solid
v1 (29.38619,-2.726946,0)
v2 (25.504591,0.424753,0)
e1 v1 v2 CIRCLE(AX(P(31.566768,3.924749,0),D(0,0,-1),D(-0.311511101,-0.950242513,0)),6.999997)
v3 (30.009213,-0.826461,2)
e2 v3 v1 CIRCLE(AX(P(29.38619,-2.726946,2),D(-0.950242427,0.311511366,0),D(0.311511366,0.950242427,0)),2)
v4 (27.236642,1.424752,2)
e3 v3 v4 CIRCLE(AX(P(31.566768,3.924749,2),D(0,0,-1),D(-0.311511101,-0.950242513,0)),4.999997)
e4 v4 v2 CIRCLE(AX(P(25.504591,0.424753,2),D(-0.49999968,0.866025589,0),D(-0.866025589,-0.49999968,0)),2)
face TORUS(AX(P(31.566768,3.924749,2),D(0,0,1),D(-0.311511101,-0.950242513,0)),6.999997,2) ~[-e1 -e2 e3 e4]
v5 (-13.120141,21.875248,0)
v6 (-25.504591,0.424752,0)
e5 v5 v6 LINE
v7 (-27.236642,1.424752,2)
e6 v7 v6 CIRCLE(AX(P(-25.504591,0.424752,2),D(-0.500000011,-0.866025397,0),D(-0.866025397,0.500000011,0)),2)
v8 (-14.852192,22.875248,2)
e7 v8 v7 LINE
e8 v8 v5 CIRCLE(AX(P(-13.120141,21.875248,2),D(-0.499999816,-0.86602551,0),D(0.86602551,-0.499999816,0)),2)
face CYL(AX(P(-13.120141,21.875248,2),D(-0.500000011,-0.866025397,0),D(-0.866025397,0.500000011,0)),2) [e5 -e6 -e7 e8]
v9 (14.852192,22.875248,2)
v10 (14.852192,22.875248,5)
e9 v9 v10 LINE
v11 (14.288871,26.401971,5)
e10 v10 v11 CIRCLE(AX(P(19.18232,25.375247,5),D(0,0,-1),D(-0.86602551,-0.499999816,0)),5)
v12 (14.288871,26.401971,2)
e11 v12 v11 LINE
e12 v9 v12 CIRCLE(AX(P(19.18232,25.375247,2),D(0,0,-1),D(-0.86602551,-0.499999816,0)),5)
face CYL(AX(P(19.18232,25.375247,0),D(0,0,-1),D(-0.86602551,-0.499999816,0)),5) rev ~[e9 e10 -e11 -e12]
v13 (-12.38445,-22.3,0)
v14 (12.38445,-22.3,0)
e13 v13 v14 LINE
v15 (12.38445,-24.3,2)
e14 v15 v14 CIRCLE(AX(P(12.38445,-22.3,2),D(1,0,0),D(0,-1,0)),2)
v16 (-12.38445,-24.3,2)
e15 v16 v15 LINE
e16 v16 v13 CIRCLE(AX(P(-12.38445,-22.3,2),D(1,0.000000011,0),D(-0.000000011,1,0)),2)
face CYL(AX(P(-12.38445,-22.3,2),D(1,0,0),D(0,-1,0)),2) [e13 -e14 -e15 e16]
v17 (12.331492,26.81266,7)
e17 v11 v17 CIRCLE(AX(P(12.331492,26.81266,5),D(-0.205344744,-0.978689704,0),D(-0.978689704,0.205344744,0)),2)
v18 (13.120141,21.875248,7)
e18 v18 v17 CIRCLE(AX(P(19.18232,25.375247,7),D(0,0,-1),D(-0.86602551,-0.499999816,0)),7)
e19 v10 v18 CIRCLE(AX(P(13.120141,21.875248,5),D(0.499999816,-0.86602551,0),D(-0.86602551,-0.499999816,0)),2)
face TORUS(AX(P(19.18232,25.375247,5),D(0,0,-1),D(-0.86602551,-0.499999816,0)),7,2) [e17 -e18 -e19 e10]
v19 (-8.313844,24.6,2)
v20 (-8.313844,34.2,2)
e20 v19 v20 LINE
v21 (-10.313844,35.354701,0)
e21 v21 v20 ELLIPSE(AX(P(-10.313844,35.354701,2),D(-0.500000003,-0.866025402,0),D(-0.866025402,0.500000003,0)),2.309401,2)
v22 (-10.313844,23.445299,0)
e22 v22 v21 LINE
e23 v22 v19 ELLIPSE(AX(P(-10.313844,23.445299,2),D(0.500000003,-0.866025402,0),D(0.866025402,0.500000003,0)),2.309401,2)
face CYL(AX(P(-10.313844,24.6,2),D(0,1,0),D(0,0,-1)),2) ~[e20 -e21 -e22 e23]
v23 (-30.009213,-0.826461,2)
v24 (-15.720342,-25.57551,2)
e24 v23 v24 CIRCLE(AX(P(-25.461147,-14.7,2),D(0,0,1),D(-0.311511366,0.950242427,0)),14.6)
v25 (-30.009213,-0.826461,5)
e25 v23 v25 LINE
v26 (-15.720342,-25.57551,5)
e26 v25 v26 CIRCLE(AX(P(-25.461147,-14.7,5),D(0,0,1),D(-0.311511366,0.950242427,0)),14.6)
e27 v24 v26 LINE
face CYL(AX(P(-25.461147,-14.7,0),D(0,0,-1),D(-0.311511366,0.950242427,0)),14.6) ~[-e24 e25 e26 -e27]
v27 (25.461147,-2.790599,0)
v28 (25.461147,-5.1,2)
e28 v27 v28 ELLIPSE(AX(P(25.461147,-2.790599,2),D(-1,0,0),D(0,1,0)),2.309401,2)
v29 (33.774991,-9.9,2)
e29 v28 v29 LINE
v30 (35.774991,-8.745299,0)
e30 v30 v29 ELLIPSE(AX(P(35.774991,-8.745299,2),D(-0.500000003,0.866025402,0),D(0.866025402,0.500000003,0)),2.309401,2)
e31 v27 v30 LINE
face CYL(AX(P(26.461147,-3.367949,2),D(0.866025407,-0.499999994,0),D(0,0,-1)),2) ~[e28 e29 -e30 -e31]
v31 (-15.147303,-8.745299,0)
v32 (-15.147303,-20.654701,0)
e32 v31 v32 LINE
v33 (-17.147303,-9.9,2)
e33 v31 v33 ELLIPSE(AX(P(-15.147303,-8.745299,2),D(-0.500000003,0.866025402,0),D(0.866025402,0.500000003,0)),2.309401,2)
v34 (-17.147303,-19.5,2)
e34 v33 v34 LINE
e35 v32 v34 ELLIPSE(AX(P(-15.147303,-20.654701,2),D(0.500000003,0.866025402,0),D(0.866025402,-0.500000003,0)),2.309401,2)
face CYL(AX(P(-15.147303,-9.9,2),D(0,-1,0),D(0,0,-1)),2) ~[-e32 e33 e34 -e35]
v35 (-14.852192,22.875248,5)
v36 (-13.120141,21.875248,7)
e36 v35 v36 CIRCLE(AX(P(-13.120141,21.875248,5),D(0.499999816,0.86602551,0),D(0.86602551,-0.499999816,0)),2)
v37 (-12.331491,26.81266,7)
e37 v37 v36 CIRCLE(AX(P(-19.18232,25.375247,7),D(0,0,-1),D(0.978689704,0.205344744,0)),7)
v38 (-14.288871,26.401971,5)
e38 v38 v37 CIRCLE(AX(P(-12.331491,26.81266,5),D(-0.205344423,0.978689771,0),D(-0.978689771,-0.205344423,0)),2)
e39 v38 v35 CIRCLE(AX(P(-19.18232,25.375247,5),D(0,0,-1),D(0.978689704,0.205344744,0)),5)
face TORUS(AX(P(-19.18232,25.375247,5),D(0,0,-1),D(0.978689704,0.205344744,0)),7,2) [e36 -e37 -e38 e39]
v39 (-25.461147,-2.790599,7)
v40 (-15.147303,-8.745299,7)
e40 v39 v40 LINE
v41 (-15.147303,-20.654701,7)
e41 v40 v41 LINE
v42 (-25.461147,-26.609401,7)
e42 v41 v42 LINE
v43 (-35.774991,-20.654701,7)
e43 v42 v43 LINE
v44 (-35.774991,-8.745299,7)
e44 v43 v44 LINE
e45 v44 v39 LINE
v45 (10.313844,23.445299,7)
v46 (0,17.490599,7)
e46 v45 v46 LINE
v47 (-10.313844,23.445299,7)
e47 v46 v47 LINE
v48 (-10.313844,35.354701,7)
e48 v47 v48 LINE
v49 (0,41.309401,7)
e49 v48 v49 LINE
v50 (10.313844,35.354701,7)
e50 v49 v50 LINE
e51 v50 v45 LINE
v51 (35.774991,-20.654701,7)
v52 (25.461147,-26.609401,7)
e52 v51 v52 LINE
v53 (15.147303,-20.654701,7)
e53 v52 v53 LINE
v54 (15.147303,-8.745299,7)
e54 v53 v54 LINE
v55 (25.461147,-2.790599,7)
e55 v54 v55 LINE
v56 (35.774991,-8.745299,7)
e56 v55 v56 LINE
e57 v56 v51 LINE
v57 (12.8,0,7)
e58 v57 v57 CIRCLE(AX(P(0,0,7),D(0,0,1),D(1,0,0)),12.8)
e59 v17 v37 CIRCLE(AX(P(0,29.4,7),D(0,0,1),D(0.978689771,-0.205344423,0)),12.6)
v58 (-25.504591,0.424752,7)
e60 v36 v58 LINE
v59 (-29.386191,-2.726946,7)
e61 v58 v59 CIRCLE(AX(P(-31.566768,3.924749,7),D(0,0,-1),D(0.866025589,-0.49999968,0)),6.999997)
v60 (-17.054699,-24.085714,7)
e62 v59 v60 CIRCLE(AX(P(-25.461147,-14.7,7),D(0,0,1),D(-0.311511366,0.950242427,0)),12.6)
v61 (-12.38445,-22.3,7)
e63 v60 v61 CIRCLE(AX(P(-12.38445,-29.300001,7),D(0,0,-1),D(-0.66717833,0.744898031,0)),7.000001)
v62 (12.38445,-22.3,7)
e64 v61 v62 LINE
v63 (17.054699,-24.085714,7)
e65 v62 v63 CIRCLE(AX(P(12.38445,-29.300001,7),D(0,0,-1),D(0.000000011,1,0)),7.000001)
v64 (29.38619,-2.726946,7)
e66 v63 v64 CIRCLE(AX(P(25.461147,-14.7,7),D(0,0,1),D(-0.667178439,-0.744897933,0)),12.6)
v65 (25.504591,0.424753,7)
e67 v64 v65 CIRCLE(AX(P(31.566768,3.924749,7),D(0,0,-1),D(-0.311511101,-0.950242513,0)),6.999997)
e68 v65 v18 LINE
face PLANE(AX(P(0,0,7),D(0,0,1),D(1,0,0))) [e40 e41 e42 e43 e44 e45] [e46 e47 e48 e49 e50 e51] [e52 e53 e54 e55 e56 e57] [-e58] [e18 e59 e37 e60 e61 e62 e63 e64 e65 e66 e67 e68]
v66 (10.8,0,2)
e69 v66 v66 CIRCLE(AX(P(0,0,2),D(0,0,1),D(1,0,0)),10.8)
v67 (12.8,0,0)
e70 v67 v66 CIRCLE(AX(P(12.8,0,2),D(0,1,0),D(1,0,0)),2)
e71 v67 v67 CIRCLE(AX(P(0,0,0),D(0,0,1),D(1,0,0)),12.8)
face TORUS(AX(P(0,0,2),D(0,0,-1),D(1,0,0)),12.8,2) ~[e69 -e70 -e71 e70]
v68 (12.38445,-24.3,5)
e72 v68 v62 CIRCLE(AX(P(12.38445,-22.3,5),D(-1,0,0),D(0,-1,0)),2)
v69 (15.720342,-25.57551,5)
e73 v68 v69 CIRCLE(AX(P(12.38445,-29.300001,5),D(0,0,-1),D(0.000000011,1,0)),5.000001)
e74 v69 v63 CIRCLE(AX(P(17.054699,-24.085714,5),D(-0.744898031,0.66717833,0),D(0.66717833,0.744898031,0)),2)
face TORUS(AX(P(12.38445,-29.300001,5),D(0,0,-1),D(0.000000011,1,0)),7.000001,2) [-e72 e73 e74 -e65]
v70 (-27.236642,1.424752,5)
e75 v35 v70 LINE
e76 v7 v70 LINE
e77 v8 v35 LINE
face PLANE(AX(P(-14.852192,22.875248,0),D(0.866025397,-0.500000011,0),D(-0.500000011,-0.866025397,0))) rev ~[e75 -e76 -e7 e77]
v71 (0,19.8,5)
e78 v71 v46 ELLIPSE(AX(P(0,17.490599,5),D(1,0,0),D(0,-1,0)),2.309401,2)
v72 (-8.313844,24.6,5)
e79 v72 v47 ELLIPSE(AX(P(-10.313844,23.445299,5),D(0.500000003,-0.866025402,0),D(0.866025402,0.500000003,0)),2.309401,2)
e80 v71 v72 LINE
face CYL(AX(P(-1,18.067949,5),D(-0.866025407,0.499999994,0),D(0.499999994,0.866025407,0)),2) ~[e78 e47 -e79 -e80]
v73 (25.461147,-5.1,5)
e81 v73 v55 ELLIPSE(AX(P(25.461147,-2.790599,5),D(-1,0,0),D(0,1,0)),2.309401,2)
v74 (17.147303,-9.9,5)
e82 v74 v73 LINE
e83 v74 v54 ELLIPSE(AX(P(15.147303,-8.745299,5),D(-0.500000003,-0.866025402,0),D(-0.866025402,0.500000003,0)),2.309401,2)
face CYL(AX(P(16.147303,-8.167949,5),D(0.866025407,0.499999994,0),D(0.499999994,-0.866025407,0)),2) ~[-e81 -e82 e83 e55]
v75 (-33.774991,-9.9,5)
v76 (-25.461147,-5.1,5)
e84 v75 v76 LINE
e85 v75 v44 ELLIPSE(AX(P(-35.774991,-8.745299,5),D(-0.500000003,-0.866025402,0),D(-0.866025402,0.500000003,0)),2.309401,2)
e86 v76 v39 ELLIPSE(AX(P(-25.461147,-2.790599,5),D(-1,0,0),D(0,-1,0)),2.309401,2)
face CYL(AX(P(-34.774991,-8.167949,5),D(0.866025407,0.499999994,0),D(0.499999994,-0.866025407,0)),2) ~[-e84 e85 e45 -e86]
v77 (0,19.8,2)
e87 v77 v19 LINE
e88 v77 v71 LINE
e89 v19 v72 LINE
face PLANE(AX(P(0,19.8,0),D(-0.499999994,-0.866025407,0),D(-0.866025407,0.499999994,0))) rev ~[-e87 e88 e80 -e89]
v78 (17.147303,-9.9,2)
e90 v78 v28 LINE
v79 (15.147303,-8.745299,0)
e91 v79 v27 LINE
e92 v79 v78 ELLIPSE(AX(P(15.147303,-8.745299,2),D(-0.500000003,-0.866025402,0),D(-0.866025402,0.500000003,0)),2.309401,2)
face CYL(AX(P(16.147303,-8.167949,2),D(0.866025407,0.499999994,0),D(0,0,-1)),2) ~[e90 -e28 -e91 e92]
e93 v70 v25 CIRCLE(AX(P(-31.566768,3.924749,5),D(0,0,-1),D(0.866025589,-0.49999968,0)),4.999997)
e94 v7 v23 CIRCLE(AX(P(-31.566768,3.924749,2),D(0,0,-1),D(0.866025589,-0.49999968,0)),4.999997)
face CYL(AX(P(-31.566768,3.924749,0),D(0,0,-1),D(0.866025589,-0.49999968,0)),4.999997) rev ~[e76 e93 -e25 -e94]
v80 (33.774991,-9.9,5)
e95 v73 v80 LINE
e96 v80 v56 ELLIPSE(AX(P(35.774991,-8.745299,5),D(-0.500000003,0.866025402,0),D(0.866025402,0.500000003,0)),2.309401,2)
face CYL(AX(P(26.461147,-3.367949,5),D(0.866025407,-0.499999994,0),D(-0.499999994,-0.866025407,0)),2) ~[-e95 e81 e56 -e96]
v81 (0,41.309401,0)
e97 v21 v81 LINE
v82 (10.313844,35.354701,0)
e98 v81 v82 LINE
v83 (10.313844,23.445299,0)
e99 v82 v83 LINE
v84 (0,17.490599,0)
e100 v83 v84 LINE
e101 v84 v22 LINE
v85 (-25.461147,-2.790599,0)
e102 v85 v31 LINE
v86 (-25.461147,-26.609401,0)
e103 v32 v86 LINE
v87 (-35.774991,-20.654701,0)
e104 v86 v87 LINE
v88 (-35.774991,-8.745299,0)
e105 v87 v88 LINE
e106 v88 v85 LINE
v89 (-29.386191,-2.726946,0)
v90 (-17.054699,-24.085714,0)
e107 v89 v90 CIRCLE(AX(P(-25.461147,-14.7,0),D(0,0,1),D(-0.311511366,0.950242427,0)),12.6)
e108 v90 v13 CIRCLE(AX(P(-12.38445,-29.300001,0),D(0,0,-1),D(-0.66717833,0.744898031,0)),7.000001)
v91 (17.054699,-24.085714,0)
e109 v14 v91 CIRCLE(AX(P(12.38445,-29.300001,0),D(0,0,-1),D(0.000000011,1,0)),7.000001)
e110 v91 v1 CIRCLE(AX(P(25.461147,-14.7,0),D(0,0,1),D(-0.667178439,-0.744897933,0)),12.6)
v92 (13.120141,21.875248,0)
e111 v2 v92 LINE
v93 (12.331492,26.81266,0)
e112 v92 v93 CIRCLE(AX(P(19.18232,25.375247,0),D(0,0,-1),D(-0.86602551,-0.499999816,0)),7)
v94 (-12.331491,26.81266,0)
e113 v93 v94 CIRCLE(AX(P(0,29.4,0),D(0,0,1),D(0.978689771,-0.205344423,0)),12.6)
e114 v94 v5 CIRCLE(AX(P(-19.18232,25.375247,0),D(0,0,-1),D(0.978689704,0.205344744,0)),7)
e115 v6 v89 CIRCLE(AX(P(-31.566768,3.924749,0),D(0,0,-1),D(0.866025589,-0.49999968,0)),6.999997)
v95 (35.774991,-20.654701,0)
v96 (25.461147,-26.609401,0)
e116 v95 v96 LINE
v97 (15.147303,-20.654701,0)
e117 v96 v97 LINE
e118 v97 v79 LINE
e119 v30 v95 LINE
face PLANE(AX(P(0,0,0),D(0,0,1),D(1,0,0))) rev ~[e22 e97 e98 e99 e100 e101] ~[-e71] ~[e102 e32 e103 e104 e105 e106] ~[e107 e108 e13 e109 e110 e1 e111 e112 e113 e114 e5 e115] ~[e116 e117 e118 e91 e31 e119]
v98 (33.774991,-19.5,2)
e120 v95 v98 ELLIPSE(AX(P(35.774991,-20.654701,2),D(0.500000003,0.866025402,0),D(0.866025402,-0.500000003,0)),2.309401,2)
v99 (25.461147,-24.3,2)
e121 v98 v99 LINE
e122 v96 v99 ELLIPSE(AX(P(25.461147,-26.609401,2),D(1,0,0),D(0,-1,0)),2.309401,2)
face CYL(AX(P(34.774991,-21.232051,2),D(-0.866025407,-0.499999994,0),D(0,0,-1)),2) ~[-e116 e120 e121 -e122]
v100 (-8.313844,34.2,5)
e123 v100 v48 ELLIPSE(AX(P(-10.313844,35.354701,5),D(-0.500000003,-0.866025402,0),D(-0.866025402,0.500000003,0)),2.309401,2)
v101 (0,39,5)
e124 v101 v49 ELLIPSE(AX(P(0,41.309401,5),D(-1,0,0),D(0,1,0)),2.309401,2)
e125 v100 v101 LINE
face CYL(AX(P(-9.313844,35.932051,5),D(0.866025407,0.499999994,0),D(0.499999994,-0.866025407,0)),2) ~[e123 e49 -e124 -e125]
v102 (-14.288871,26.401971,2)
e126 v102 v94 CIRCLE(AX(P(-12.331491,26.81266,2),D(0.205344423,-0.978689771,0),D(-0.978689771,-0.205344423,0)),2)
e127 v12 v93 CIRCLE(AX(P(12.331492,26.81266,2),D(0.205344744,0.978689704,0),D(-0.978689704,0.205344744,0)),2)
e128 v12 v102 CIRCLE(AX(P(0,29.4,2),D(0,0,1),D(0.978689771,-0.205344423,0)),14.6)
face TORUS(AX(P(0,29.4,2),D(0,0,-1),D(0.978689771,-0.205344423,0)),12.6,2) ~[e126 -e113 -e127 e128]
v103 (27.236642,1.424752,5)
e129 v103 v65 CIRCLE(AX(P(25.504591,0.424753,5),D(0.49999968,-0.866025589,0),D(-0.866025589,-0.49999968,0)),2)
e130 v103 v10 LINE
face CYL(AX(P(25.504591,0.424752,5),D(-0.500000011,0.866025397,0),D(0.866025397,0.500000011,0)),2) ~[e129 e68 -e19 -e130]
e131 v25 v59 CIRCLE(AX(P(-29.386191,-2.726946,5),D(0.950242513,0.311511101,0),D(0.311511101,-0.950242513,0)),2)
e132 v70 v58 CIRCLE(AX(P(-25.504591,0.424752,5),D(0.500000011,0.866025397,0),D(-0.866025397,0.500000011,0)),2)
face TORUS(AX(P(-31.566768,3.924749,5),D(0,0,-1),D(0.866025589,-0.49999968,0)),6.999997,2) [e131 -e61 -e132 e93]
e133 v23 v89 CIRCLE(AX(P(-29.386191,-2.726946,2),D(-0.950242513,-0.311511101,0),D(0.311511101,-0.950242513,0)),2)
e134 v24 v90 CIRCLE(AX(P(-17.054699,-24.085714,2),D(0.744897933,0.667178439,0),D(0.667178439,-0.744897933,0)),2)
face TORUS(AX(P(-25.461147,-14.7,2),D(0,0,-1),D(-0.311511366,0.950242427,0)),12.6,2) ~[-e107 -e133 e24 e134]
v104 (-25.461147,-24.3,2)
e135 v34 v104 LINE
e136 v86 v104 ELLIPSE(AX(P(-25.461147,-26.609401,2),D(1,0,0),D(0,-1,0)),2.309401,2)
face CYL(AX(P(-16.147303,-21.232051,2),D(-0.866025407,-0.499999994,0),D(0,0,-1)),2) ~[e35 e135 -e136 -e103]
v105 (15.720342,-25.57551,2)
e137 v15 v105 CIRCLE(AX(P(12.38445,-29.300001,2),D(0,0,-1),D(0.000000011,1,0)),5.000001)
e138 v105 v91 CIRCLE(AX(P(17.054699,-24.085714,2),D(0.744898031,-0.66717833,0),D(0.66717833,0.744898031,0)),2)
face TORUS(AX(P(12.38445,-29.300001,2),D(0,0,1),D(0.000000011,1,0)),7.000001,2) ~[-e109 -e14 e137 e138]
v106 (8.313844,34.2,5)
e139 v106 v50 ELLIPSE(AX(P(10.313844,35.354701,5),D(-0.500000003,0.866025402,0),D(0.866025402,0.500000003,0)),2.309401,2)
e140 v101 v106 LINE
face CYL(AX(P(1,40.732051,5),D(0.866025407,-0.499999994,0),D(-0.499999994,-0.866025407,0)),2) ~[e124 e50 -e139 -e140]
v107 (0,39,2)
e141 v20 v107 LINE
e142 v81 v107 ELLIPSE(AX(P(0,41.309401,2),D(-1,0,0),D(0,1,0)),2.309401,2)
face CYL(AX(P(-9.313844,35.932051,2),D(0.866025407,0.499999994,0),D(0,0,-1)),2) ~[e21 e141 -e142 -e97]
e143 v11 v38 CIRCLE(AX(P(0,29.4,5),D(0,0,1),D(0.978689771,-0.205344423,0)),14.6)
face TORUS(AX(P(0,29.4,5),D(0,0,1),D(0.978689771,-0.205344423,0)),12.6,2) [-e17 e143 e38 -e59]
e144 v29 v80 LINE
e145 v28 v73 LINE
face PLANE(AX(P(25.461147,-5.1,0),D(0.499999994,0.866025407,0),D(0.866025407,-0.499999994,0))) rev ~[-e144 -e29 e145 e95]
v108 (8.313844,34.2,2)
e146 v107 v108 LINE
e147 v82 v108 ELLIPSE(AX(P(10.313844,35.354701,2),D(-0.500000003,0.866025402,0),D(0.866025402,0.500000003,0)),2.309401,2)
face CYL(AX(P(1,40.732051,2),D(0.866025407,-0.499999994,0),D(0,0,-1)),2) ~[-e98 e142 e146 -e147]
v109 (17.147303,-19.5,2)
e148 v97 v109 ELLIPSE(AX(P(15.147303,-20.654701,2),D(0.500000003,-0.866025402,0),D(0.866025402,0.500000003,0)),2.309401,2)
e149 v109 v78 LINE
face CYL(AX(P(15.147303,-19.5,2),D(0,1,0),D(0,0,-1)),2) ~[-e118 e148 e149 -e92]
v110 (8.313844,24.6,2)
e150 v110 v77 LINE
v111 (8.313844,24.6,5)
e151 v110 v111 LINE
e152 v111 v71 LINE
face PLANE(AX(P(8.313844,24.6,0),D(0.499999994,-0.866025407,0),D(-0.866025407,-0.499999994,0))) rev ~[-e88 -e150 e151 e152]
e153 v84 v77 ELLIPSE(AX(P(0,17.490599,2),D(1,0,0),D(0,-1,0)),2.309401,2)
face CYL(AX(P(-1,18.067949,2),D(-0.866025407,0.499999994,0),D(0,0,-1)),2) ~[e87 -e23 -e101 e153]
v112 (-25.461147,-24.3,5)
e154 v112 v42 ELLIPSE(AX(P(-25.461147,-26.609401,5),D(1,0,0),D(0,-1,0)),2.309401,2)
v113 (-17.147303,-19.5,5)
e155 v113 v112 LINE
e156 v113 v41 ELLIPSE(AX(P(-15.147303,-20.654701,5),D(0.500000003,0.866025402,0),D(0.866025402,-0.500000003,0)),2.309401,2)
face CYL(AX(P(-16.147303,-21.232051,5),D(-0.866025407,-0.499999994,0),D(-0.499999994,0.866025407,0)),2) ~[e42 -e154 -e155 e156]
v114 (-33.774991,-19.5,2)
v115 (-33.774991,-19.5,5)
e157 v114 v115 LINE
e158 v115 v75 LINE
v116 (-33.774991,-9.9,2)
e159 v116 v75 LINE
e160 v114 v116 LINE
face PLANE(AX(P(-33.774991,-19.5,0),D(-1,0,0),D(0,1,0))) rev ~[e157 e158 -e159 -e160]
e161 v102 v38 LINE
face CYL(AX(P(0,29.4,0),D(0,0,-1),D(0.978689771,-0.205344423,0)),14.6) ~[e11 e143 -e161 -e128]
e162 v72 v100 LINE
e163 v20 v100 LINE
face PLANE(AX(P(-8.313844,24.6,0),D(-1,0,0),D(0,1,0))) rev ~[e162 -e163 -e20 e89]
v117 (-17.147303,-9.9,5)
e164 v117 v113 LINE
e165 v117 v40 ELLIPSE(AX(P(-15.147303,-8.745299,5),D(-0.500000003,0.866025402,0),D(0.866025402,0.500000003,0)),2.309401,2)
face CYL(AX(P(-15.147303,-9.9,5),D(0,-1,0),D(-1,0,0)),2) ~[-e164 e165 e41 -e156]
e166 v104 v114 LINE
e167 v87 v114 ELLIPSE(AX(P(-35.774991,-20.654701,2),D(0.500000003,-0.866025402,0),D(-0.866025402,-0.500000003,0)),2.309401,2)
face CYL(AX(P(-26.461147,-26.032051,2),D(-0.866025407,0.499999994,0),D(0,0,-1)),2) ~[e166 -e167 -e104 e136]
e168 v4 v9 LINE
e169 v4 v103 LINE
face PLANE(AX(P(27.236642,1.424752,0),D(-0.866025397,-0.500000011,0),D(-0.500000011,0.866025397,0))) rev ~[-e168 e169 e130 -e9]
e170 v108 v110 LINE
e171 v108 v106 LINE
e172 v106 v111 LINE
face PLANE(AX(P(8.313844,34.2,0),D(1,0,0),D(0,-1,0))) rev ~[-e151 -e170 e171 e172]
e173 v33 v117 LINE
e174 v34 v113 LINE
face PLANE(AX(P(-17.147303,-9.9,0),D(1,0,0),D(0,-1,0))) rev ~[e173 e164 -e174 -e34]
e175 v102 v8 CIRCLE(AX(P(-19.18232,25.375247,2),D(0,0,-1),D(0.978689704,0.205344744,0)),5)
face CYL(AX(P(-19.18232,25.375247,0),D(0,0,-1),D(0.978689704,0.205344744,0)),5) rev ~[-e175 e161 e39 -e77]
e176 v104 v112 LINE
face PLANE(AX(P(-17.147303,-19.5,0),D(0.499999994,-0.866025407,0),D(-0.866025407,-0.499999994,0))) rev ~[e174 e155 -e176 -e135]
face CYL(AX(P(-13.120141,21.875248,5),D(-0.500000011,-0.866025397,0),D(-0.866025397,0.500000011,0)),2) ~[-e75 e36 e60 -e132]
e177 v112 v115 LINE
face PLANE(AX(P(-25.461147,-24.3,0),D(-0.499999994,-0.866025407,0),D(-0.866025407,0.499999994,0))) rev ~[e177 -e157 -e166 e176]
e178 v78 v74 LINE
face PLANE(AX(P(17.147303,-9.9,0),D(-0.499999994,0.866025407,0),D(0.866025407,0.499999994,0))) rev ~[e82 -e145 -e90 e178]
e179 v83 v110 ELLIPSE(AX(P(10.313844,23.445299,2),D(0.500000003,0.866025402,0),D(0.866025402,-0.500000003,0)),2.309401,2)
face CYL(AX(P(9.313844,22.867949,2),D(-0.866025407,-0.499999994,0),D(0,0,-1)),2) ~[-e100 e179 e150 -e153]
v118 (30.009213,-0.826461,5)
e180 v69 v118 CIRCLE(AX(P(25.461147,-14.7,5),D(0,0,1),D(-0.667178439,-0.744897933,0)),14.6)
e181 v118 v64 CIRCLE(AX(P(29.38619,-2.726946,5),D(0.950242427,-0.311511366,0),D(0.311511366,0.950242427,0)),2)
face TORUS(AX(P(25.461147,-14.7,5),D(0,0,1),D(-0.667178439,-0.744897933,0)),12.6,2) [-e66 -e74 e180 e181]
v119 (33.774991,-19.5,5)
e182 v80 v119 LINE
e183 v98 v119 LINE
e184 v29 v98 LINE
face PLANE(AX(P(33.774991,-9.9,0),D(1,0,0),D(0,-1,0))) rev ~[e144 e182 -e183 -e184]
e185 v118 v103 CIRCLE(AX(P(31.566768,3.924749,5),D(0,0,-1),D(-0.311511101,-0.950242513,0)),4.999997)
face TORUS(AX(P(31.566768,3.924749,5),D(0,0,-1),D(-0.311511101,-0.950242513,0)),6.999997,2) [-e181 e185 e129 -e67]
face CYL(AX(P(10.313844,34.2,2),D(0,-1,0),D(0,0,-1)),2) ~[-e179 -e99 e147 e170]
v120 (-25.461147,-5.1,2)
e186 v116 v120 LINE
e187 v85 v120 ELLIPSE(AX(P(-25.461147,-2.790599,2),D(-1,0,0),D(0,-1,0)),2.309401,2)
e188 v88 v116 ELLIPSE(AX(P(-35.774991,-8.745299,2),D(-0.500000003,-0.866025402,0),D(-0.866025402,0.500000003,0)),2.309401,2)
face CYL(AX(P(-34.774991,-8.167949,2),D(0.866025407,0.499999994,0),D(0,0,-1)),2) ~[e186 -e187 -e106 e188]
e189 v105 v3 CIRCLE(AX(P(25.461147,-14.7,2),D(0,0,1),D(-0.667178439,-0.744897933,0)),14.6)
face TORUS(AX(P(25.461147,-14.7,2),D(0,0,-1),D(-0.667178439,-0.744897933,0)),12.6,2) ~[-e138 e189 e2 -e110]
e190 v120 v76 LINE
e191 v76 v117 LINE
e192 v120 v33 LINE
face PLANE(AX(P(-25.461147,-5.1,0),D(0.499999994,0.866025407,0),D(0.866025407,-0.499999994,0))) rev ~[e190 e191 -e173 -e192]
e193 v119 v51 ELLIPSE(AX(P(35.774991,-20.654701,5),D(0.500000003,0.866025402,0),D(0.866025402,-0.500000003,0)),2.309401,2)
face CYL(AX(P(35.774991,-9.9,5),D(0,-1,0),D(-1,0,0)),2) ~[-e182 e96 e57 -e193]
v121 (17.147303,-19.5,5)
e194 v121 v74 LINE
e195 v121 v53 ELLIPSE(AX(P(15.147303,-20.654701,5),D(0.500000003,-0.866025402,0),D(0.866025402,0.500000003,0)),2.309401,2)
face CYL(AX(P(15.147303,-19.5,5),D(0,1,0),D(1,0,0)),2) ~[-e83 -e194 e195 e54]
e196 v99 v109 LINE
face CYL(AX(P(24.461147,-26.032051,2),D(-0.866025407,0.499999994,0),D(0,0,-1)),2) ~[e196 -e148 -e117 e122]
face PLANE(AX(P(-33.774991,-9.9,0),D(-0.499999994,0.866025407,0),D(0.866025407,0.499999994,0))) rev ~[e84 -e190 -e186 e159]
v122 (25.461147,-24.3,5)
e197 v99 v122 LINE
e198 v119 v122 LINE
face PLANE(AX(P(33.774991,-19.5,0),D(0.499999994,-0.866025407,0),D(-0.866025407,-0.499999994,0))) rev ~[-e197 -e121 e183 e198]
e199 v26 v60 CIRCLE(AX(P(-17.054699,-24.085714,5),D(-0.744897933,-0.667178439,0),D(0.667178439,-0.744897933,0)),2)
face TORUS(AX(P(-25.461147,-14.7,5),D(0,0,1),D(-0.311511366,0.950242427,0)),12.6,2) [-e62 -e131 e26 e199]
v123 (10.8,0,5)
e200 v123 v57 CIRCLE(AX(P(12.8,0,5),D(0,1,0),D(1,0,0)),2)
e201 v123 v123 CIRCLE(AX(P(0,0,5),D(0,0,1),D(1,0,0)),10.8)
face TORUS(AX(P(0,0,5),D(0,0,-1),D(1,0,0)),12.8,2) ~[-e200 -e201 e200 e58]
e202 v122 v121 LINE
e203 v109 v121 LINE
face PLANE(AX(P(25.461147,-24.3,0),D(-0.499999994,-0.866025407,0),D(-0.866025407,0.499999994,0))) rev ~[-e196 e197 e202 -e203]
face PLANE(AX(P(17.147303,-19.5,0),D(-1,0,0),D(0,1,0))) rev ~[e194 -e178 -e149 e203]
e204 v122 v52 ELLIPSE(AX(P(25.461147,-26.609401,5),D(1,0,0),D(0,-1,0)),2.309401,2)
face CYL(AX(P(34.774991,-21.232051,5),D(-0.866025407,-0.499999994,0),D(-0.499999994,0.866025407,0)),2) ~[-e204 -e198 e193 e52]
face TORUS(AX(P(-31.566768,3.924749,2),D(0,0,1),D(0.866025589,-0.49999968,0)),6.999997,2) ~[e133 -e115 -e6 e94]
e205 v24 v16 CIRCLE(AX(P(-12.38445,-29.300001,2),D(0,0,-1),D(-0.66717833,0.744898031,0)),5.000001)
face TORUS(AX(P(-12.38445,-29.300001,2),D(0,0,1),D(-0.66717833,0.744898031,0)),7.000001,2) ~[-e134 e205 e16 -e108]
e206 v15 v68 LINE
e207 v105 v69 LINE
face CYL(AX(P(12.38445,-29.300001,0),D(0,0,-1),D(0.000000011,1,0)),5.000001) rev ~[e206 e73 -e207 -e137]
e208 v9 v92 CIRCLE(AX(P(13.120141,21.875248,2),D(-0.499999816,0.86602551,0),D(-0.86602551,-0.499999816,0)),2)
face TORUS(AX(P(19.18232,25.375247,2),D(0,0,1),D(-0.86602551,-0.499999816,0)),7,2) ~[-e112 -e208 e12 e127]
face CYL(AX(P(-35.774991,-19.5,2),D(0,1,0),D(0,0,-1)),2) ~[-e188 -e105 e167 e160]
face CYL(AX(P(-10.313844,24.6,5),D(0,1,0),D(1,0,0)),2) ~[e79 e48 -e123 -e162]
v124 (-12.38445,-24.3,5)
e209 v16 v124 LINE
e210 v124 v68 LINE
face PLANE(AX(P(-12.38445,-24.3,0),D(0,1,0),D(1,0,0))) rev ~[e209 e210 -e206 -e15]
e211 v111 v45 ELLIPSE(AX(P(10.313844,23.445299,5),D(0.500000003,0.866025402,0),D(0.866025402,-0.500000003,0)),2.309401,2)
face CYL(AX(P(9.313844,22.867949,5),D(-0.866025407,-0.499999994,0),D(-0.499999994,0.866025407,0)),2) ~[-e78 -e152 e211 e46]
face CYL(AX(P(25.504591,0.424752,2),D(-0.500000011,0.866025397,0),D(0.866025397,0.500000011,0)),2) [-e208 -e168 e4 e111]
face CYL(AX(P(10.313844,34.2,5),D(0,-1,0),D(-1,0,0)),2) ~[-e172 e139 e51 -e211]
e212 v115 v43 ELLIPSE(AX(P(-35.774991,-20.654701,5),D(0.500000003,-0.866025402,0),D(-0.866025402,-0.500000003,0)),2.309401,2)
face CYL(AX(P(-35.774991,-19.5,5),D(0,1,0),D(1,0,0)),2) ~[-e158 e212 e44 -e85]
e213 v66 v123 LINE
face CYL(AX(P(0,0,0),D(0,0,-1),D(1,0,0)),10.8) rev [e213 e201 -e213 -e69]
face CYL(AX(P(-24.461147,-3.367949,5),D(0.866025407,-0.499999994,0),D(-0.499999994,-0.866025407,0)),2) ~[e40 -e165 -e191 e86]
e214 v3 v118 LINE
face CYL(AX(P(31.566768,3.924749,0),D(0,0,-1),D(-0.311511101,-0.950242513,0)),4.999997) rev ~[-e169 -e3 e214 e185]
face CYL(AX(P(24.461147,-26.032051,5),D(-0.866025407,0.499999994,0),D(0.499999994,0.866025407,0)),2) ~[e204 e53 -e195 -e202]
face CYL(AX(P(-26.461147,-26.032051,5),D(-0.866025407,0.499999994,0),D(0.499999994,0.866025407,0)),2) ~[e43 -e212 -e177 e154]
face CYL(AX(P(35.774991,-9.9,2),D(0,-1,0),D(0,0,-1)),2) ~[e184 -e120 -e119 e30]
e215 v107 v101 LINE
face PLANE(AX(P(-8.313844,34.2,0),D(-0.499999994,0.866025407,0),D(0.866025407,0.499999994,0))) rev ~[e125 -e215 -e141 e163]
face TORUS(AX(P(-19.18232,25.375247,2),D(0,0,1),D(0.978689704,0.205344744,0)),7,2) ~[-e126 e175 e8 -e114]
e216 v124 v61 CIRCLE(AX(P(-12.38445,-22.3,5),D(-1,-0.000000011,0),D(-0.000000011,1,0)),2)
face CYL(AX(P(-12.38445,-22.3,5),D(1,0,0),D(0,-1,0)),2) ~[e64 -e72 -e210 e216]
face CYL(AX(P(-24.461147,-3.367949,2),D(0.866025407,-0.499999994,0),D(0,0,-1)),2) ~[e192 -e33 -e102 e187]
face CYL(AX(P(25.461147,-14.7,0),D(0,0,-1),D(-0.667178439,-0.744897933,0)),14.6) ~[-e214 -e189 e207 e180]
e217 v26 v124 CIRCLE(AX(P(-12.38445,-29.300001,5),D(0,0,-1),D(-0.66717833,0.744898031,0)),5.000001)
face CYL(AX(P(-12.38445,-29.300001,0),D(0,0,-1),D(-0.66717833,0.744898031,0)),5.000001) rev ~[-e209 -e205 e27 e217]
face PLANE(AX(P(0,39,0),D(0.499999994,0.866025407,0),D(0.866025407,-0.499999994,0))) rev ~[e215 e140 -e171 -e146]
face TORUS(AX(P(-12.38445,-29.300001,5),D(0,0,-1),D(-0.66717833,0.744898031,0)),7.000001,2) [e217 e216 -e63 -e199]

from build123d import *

# Parameters (mm, degrees)
F0_R     = 10.8
F1_DEPTH = 7
F2_R     = 2
F3_R     = 2


with BuildPart() as f1:
    # F0 (on Top) → F1 (new body)
    with BuildSketch(Plane.XY):
        with BuildLine():
            ThreePointArc((14.852192, 22.875248), (14.244908, 24.586598), (14.288871, 26.401971))
            ThreePointArc((14.288871, 26.401971), (0, 44), (-14.288871, 26.401971))
            ThreePointArc((-14.288871, 26.401971), (-14.244908, 24.586598), (-14.852192, 22.875248))
            Line((-14.852192, 22.875248), (-27.236642, 1.424752))
            ThreePointArc((-27.236642, 1.424752), (-28.415072, 0.043153), (-30.009213, -0.826461))
            ThreePointArc((-30.009213, -0.826461), (-38.105118, -22), (-15.720342, -25.57551))
            ThreePointArc((-15.720342, -25.57551), (-14.170164, -24.629751), (-12.38445, -24.3))
            Line((-12.38445, -24.3), (12.38445, -24.3))
            ThreePointArc((12.38445, -24.3), (14.170164, -24.629751), (15.720342, -25.57551))
            ThreePointArc((15.720342, -25.57551), (38.105118, -22), (30.009213, -0.826461))
            ThreePointArc((30.009213, -0.826461), (28.415072, 0.043153), (27.236642, 1.424752))
            Line((27.236642, 1.424752), (14.852192, 22.875248))
        make_face()
        Polygon((-17.147303, -9.9), (-17.147303, -19.5), (-25.461147, -24.3), (-33.774991, -19.5), (-33.774991, -9.9), (-25.461147, -5.1), align=None, mode=Mode.SUBTRACT)
        Polygon((17.147303, -9.9), (25.461147, -5.1), (33.774991, -9.9), (33.774991, -19.5), (25.461147, -24.3), (17.147303, -19.5), align=None, mode=Mode.SUBTRACT)
        Circle(F0_R, mode=Mode.SUBTRACT)
        Polygon((0, 39), (8.313844, 34.2), (8.313844, 24.6), (0, 19.8), (-8.313844, 24.6), (-8.313844, 34.2), align=None, mode=Mode.SUBTRACT)
    extrude(amount=F1_DEPTH)

    # F2
    f2_edges = [f1.edges().sort_by_distance(p)[0] for p in [
        (14.244908, 24.586598, 7),
        (0, 44, 7),
        (-14.244908, 24.586598, 7),
        (-21.044417, 12.15, 7),
        (-28.415072, 0.043153, 7),
        (-38.105118, -22, 7),
        (-14.170164, -24.629751, 7),
        (0, -24.3, 7),
        (14.170164, -24.629751, 7),
        (38.105118, -22, 7),
        (28.415072, 0.043153, 7),
        (21.044417, 12.15, 7),
        (-21.304225, -7.5, 7),
        (-17.147303, -14.7, 7),
        (-21.304225, -21.9, 7),
        (-29.618069, -21.9, 7),
        (-33.774991, -14.7, 7),
        (-29.618069, -7.5, 7),
        (17.147303, -14.7, 7),
        (21.304225, -7.5, 7),
        (29.618069, -7.5, 7),
        (33.774991, -14.7, 7),
        (29.618069, -21.9, 7),
        (21.304225, -21.9, 7),
        (-10.8, 0, 7),
        (-8.313844, 29.4, 7),
        (-4.156922, 36.6, 7),
        (4.156922, 36.6, 7),
        (8.313844, 29.4, 7),
        (4.156922, 22.2, 7),
        (-4.156922, 22.2, 7),
    ]]
    fillet(f2_edges, radius=F2_R)

    # F3
    f3_edges = [f1.edges().sort_by_distance(p)[0] for p in [
        (14.244908, 24.586598, 0),
        (0, 44, 0),
        (-14.244908, 24.586598, 0),
        (-21.044417, 12.15, 0),
        (-28.415072, 0.043153, 0),
        (-38.105118, -22, 0),
        (-14.170164, -24.629751, 0),
        (0, -24.3, 0),
        (14.170164, -24.629751, 0),
        (38.105118, -22, 0),
        (28.415072, 0.043153, 0),
        (21.044417, 12.15, 0),
        (-21.304225, -7.5, 0),
        (-17.147303, -14.7, 0),
        (-21.304225, -21.9, 0),
        (-29.618069, -21.9, 0),
        (-33.774991, -14.7, 0),
        (-29.618069, -7.5, 0),
        (17.147303, -14.7, 0),
        (21.304225, -7.5, 0),
        (29.618069, -7.5, 0),
        (33.774991, -14.7, 0),
        (29.618069, -21.9, 0),
        (21.304225, -21.9, 0),
        (-10.8, 0, 0),
        (-8.313844, 29.4, 0),
        (-4.156922, 36.6, 0),
        (4.156922, 36.6, 0),
        (8.313844, 29.4, 0),
        (4.156922, 22.2, 0),
        (-4.156922, 22.2, 0),
    ]]
    fillet(f3_edges, radius=F3_R)


solid = f1.part
